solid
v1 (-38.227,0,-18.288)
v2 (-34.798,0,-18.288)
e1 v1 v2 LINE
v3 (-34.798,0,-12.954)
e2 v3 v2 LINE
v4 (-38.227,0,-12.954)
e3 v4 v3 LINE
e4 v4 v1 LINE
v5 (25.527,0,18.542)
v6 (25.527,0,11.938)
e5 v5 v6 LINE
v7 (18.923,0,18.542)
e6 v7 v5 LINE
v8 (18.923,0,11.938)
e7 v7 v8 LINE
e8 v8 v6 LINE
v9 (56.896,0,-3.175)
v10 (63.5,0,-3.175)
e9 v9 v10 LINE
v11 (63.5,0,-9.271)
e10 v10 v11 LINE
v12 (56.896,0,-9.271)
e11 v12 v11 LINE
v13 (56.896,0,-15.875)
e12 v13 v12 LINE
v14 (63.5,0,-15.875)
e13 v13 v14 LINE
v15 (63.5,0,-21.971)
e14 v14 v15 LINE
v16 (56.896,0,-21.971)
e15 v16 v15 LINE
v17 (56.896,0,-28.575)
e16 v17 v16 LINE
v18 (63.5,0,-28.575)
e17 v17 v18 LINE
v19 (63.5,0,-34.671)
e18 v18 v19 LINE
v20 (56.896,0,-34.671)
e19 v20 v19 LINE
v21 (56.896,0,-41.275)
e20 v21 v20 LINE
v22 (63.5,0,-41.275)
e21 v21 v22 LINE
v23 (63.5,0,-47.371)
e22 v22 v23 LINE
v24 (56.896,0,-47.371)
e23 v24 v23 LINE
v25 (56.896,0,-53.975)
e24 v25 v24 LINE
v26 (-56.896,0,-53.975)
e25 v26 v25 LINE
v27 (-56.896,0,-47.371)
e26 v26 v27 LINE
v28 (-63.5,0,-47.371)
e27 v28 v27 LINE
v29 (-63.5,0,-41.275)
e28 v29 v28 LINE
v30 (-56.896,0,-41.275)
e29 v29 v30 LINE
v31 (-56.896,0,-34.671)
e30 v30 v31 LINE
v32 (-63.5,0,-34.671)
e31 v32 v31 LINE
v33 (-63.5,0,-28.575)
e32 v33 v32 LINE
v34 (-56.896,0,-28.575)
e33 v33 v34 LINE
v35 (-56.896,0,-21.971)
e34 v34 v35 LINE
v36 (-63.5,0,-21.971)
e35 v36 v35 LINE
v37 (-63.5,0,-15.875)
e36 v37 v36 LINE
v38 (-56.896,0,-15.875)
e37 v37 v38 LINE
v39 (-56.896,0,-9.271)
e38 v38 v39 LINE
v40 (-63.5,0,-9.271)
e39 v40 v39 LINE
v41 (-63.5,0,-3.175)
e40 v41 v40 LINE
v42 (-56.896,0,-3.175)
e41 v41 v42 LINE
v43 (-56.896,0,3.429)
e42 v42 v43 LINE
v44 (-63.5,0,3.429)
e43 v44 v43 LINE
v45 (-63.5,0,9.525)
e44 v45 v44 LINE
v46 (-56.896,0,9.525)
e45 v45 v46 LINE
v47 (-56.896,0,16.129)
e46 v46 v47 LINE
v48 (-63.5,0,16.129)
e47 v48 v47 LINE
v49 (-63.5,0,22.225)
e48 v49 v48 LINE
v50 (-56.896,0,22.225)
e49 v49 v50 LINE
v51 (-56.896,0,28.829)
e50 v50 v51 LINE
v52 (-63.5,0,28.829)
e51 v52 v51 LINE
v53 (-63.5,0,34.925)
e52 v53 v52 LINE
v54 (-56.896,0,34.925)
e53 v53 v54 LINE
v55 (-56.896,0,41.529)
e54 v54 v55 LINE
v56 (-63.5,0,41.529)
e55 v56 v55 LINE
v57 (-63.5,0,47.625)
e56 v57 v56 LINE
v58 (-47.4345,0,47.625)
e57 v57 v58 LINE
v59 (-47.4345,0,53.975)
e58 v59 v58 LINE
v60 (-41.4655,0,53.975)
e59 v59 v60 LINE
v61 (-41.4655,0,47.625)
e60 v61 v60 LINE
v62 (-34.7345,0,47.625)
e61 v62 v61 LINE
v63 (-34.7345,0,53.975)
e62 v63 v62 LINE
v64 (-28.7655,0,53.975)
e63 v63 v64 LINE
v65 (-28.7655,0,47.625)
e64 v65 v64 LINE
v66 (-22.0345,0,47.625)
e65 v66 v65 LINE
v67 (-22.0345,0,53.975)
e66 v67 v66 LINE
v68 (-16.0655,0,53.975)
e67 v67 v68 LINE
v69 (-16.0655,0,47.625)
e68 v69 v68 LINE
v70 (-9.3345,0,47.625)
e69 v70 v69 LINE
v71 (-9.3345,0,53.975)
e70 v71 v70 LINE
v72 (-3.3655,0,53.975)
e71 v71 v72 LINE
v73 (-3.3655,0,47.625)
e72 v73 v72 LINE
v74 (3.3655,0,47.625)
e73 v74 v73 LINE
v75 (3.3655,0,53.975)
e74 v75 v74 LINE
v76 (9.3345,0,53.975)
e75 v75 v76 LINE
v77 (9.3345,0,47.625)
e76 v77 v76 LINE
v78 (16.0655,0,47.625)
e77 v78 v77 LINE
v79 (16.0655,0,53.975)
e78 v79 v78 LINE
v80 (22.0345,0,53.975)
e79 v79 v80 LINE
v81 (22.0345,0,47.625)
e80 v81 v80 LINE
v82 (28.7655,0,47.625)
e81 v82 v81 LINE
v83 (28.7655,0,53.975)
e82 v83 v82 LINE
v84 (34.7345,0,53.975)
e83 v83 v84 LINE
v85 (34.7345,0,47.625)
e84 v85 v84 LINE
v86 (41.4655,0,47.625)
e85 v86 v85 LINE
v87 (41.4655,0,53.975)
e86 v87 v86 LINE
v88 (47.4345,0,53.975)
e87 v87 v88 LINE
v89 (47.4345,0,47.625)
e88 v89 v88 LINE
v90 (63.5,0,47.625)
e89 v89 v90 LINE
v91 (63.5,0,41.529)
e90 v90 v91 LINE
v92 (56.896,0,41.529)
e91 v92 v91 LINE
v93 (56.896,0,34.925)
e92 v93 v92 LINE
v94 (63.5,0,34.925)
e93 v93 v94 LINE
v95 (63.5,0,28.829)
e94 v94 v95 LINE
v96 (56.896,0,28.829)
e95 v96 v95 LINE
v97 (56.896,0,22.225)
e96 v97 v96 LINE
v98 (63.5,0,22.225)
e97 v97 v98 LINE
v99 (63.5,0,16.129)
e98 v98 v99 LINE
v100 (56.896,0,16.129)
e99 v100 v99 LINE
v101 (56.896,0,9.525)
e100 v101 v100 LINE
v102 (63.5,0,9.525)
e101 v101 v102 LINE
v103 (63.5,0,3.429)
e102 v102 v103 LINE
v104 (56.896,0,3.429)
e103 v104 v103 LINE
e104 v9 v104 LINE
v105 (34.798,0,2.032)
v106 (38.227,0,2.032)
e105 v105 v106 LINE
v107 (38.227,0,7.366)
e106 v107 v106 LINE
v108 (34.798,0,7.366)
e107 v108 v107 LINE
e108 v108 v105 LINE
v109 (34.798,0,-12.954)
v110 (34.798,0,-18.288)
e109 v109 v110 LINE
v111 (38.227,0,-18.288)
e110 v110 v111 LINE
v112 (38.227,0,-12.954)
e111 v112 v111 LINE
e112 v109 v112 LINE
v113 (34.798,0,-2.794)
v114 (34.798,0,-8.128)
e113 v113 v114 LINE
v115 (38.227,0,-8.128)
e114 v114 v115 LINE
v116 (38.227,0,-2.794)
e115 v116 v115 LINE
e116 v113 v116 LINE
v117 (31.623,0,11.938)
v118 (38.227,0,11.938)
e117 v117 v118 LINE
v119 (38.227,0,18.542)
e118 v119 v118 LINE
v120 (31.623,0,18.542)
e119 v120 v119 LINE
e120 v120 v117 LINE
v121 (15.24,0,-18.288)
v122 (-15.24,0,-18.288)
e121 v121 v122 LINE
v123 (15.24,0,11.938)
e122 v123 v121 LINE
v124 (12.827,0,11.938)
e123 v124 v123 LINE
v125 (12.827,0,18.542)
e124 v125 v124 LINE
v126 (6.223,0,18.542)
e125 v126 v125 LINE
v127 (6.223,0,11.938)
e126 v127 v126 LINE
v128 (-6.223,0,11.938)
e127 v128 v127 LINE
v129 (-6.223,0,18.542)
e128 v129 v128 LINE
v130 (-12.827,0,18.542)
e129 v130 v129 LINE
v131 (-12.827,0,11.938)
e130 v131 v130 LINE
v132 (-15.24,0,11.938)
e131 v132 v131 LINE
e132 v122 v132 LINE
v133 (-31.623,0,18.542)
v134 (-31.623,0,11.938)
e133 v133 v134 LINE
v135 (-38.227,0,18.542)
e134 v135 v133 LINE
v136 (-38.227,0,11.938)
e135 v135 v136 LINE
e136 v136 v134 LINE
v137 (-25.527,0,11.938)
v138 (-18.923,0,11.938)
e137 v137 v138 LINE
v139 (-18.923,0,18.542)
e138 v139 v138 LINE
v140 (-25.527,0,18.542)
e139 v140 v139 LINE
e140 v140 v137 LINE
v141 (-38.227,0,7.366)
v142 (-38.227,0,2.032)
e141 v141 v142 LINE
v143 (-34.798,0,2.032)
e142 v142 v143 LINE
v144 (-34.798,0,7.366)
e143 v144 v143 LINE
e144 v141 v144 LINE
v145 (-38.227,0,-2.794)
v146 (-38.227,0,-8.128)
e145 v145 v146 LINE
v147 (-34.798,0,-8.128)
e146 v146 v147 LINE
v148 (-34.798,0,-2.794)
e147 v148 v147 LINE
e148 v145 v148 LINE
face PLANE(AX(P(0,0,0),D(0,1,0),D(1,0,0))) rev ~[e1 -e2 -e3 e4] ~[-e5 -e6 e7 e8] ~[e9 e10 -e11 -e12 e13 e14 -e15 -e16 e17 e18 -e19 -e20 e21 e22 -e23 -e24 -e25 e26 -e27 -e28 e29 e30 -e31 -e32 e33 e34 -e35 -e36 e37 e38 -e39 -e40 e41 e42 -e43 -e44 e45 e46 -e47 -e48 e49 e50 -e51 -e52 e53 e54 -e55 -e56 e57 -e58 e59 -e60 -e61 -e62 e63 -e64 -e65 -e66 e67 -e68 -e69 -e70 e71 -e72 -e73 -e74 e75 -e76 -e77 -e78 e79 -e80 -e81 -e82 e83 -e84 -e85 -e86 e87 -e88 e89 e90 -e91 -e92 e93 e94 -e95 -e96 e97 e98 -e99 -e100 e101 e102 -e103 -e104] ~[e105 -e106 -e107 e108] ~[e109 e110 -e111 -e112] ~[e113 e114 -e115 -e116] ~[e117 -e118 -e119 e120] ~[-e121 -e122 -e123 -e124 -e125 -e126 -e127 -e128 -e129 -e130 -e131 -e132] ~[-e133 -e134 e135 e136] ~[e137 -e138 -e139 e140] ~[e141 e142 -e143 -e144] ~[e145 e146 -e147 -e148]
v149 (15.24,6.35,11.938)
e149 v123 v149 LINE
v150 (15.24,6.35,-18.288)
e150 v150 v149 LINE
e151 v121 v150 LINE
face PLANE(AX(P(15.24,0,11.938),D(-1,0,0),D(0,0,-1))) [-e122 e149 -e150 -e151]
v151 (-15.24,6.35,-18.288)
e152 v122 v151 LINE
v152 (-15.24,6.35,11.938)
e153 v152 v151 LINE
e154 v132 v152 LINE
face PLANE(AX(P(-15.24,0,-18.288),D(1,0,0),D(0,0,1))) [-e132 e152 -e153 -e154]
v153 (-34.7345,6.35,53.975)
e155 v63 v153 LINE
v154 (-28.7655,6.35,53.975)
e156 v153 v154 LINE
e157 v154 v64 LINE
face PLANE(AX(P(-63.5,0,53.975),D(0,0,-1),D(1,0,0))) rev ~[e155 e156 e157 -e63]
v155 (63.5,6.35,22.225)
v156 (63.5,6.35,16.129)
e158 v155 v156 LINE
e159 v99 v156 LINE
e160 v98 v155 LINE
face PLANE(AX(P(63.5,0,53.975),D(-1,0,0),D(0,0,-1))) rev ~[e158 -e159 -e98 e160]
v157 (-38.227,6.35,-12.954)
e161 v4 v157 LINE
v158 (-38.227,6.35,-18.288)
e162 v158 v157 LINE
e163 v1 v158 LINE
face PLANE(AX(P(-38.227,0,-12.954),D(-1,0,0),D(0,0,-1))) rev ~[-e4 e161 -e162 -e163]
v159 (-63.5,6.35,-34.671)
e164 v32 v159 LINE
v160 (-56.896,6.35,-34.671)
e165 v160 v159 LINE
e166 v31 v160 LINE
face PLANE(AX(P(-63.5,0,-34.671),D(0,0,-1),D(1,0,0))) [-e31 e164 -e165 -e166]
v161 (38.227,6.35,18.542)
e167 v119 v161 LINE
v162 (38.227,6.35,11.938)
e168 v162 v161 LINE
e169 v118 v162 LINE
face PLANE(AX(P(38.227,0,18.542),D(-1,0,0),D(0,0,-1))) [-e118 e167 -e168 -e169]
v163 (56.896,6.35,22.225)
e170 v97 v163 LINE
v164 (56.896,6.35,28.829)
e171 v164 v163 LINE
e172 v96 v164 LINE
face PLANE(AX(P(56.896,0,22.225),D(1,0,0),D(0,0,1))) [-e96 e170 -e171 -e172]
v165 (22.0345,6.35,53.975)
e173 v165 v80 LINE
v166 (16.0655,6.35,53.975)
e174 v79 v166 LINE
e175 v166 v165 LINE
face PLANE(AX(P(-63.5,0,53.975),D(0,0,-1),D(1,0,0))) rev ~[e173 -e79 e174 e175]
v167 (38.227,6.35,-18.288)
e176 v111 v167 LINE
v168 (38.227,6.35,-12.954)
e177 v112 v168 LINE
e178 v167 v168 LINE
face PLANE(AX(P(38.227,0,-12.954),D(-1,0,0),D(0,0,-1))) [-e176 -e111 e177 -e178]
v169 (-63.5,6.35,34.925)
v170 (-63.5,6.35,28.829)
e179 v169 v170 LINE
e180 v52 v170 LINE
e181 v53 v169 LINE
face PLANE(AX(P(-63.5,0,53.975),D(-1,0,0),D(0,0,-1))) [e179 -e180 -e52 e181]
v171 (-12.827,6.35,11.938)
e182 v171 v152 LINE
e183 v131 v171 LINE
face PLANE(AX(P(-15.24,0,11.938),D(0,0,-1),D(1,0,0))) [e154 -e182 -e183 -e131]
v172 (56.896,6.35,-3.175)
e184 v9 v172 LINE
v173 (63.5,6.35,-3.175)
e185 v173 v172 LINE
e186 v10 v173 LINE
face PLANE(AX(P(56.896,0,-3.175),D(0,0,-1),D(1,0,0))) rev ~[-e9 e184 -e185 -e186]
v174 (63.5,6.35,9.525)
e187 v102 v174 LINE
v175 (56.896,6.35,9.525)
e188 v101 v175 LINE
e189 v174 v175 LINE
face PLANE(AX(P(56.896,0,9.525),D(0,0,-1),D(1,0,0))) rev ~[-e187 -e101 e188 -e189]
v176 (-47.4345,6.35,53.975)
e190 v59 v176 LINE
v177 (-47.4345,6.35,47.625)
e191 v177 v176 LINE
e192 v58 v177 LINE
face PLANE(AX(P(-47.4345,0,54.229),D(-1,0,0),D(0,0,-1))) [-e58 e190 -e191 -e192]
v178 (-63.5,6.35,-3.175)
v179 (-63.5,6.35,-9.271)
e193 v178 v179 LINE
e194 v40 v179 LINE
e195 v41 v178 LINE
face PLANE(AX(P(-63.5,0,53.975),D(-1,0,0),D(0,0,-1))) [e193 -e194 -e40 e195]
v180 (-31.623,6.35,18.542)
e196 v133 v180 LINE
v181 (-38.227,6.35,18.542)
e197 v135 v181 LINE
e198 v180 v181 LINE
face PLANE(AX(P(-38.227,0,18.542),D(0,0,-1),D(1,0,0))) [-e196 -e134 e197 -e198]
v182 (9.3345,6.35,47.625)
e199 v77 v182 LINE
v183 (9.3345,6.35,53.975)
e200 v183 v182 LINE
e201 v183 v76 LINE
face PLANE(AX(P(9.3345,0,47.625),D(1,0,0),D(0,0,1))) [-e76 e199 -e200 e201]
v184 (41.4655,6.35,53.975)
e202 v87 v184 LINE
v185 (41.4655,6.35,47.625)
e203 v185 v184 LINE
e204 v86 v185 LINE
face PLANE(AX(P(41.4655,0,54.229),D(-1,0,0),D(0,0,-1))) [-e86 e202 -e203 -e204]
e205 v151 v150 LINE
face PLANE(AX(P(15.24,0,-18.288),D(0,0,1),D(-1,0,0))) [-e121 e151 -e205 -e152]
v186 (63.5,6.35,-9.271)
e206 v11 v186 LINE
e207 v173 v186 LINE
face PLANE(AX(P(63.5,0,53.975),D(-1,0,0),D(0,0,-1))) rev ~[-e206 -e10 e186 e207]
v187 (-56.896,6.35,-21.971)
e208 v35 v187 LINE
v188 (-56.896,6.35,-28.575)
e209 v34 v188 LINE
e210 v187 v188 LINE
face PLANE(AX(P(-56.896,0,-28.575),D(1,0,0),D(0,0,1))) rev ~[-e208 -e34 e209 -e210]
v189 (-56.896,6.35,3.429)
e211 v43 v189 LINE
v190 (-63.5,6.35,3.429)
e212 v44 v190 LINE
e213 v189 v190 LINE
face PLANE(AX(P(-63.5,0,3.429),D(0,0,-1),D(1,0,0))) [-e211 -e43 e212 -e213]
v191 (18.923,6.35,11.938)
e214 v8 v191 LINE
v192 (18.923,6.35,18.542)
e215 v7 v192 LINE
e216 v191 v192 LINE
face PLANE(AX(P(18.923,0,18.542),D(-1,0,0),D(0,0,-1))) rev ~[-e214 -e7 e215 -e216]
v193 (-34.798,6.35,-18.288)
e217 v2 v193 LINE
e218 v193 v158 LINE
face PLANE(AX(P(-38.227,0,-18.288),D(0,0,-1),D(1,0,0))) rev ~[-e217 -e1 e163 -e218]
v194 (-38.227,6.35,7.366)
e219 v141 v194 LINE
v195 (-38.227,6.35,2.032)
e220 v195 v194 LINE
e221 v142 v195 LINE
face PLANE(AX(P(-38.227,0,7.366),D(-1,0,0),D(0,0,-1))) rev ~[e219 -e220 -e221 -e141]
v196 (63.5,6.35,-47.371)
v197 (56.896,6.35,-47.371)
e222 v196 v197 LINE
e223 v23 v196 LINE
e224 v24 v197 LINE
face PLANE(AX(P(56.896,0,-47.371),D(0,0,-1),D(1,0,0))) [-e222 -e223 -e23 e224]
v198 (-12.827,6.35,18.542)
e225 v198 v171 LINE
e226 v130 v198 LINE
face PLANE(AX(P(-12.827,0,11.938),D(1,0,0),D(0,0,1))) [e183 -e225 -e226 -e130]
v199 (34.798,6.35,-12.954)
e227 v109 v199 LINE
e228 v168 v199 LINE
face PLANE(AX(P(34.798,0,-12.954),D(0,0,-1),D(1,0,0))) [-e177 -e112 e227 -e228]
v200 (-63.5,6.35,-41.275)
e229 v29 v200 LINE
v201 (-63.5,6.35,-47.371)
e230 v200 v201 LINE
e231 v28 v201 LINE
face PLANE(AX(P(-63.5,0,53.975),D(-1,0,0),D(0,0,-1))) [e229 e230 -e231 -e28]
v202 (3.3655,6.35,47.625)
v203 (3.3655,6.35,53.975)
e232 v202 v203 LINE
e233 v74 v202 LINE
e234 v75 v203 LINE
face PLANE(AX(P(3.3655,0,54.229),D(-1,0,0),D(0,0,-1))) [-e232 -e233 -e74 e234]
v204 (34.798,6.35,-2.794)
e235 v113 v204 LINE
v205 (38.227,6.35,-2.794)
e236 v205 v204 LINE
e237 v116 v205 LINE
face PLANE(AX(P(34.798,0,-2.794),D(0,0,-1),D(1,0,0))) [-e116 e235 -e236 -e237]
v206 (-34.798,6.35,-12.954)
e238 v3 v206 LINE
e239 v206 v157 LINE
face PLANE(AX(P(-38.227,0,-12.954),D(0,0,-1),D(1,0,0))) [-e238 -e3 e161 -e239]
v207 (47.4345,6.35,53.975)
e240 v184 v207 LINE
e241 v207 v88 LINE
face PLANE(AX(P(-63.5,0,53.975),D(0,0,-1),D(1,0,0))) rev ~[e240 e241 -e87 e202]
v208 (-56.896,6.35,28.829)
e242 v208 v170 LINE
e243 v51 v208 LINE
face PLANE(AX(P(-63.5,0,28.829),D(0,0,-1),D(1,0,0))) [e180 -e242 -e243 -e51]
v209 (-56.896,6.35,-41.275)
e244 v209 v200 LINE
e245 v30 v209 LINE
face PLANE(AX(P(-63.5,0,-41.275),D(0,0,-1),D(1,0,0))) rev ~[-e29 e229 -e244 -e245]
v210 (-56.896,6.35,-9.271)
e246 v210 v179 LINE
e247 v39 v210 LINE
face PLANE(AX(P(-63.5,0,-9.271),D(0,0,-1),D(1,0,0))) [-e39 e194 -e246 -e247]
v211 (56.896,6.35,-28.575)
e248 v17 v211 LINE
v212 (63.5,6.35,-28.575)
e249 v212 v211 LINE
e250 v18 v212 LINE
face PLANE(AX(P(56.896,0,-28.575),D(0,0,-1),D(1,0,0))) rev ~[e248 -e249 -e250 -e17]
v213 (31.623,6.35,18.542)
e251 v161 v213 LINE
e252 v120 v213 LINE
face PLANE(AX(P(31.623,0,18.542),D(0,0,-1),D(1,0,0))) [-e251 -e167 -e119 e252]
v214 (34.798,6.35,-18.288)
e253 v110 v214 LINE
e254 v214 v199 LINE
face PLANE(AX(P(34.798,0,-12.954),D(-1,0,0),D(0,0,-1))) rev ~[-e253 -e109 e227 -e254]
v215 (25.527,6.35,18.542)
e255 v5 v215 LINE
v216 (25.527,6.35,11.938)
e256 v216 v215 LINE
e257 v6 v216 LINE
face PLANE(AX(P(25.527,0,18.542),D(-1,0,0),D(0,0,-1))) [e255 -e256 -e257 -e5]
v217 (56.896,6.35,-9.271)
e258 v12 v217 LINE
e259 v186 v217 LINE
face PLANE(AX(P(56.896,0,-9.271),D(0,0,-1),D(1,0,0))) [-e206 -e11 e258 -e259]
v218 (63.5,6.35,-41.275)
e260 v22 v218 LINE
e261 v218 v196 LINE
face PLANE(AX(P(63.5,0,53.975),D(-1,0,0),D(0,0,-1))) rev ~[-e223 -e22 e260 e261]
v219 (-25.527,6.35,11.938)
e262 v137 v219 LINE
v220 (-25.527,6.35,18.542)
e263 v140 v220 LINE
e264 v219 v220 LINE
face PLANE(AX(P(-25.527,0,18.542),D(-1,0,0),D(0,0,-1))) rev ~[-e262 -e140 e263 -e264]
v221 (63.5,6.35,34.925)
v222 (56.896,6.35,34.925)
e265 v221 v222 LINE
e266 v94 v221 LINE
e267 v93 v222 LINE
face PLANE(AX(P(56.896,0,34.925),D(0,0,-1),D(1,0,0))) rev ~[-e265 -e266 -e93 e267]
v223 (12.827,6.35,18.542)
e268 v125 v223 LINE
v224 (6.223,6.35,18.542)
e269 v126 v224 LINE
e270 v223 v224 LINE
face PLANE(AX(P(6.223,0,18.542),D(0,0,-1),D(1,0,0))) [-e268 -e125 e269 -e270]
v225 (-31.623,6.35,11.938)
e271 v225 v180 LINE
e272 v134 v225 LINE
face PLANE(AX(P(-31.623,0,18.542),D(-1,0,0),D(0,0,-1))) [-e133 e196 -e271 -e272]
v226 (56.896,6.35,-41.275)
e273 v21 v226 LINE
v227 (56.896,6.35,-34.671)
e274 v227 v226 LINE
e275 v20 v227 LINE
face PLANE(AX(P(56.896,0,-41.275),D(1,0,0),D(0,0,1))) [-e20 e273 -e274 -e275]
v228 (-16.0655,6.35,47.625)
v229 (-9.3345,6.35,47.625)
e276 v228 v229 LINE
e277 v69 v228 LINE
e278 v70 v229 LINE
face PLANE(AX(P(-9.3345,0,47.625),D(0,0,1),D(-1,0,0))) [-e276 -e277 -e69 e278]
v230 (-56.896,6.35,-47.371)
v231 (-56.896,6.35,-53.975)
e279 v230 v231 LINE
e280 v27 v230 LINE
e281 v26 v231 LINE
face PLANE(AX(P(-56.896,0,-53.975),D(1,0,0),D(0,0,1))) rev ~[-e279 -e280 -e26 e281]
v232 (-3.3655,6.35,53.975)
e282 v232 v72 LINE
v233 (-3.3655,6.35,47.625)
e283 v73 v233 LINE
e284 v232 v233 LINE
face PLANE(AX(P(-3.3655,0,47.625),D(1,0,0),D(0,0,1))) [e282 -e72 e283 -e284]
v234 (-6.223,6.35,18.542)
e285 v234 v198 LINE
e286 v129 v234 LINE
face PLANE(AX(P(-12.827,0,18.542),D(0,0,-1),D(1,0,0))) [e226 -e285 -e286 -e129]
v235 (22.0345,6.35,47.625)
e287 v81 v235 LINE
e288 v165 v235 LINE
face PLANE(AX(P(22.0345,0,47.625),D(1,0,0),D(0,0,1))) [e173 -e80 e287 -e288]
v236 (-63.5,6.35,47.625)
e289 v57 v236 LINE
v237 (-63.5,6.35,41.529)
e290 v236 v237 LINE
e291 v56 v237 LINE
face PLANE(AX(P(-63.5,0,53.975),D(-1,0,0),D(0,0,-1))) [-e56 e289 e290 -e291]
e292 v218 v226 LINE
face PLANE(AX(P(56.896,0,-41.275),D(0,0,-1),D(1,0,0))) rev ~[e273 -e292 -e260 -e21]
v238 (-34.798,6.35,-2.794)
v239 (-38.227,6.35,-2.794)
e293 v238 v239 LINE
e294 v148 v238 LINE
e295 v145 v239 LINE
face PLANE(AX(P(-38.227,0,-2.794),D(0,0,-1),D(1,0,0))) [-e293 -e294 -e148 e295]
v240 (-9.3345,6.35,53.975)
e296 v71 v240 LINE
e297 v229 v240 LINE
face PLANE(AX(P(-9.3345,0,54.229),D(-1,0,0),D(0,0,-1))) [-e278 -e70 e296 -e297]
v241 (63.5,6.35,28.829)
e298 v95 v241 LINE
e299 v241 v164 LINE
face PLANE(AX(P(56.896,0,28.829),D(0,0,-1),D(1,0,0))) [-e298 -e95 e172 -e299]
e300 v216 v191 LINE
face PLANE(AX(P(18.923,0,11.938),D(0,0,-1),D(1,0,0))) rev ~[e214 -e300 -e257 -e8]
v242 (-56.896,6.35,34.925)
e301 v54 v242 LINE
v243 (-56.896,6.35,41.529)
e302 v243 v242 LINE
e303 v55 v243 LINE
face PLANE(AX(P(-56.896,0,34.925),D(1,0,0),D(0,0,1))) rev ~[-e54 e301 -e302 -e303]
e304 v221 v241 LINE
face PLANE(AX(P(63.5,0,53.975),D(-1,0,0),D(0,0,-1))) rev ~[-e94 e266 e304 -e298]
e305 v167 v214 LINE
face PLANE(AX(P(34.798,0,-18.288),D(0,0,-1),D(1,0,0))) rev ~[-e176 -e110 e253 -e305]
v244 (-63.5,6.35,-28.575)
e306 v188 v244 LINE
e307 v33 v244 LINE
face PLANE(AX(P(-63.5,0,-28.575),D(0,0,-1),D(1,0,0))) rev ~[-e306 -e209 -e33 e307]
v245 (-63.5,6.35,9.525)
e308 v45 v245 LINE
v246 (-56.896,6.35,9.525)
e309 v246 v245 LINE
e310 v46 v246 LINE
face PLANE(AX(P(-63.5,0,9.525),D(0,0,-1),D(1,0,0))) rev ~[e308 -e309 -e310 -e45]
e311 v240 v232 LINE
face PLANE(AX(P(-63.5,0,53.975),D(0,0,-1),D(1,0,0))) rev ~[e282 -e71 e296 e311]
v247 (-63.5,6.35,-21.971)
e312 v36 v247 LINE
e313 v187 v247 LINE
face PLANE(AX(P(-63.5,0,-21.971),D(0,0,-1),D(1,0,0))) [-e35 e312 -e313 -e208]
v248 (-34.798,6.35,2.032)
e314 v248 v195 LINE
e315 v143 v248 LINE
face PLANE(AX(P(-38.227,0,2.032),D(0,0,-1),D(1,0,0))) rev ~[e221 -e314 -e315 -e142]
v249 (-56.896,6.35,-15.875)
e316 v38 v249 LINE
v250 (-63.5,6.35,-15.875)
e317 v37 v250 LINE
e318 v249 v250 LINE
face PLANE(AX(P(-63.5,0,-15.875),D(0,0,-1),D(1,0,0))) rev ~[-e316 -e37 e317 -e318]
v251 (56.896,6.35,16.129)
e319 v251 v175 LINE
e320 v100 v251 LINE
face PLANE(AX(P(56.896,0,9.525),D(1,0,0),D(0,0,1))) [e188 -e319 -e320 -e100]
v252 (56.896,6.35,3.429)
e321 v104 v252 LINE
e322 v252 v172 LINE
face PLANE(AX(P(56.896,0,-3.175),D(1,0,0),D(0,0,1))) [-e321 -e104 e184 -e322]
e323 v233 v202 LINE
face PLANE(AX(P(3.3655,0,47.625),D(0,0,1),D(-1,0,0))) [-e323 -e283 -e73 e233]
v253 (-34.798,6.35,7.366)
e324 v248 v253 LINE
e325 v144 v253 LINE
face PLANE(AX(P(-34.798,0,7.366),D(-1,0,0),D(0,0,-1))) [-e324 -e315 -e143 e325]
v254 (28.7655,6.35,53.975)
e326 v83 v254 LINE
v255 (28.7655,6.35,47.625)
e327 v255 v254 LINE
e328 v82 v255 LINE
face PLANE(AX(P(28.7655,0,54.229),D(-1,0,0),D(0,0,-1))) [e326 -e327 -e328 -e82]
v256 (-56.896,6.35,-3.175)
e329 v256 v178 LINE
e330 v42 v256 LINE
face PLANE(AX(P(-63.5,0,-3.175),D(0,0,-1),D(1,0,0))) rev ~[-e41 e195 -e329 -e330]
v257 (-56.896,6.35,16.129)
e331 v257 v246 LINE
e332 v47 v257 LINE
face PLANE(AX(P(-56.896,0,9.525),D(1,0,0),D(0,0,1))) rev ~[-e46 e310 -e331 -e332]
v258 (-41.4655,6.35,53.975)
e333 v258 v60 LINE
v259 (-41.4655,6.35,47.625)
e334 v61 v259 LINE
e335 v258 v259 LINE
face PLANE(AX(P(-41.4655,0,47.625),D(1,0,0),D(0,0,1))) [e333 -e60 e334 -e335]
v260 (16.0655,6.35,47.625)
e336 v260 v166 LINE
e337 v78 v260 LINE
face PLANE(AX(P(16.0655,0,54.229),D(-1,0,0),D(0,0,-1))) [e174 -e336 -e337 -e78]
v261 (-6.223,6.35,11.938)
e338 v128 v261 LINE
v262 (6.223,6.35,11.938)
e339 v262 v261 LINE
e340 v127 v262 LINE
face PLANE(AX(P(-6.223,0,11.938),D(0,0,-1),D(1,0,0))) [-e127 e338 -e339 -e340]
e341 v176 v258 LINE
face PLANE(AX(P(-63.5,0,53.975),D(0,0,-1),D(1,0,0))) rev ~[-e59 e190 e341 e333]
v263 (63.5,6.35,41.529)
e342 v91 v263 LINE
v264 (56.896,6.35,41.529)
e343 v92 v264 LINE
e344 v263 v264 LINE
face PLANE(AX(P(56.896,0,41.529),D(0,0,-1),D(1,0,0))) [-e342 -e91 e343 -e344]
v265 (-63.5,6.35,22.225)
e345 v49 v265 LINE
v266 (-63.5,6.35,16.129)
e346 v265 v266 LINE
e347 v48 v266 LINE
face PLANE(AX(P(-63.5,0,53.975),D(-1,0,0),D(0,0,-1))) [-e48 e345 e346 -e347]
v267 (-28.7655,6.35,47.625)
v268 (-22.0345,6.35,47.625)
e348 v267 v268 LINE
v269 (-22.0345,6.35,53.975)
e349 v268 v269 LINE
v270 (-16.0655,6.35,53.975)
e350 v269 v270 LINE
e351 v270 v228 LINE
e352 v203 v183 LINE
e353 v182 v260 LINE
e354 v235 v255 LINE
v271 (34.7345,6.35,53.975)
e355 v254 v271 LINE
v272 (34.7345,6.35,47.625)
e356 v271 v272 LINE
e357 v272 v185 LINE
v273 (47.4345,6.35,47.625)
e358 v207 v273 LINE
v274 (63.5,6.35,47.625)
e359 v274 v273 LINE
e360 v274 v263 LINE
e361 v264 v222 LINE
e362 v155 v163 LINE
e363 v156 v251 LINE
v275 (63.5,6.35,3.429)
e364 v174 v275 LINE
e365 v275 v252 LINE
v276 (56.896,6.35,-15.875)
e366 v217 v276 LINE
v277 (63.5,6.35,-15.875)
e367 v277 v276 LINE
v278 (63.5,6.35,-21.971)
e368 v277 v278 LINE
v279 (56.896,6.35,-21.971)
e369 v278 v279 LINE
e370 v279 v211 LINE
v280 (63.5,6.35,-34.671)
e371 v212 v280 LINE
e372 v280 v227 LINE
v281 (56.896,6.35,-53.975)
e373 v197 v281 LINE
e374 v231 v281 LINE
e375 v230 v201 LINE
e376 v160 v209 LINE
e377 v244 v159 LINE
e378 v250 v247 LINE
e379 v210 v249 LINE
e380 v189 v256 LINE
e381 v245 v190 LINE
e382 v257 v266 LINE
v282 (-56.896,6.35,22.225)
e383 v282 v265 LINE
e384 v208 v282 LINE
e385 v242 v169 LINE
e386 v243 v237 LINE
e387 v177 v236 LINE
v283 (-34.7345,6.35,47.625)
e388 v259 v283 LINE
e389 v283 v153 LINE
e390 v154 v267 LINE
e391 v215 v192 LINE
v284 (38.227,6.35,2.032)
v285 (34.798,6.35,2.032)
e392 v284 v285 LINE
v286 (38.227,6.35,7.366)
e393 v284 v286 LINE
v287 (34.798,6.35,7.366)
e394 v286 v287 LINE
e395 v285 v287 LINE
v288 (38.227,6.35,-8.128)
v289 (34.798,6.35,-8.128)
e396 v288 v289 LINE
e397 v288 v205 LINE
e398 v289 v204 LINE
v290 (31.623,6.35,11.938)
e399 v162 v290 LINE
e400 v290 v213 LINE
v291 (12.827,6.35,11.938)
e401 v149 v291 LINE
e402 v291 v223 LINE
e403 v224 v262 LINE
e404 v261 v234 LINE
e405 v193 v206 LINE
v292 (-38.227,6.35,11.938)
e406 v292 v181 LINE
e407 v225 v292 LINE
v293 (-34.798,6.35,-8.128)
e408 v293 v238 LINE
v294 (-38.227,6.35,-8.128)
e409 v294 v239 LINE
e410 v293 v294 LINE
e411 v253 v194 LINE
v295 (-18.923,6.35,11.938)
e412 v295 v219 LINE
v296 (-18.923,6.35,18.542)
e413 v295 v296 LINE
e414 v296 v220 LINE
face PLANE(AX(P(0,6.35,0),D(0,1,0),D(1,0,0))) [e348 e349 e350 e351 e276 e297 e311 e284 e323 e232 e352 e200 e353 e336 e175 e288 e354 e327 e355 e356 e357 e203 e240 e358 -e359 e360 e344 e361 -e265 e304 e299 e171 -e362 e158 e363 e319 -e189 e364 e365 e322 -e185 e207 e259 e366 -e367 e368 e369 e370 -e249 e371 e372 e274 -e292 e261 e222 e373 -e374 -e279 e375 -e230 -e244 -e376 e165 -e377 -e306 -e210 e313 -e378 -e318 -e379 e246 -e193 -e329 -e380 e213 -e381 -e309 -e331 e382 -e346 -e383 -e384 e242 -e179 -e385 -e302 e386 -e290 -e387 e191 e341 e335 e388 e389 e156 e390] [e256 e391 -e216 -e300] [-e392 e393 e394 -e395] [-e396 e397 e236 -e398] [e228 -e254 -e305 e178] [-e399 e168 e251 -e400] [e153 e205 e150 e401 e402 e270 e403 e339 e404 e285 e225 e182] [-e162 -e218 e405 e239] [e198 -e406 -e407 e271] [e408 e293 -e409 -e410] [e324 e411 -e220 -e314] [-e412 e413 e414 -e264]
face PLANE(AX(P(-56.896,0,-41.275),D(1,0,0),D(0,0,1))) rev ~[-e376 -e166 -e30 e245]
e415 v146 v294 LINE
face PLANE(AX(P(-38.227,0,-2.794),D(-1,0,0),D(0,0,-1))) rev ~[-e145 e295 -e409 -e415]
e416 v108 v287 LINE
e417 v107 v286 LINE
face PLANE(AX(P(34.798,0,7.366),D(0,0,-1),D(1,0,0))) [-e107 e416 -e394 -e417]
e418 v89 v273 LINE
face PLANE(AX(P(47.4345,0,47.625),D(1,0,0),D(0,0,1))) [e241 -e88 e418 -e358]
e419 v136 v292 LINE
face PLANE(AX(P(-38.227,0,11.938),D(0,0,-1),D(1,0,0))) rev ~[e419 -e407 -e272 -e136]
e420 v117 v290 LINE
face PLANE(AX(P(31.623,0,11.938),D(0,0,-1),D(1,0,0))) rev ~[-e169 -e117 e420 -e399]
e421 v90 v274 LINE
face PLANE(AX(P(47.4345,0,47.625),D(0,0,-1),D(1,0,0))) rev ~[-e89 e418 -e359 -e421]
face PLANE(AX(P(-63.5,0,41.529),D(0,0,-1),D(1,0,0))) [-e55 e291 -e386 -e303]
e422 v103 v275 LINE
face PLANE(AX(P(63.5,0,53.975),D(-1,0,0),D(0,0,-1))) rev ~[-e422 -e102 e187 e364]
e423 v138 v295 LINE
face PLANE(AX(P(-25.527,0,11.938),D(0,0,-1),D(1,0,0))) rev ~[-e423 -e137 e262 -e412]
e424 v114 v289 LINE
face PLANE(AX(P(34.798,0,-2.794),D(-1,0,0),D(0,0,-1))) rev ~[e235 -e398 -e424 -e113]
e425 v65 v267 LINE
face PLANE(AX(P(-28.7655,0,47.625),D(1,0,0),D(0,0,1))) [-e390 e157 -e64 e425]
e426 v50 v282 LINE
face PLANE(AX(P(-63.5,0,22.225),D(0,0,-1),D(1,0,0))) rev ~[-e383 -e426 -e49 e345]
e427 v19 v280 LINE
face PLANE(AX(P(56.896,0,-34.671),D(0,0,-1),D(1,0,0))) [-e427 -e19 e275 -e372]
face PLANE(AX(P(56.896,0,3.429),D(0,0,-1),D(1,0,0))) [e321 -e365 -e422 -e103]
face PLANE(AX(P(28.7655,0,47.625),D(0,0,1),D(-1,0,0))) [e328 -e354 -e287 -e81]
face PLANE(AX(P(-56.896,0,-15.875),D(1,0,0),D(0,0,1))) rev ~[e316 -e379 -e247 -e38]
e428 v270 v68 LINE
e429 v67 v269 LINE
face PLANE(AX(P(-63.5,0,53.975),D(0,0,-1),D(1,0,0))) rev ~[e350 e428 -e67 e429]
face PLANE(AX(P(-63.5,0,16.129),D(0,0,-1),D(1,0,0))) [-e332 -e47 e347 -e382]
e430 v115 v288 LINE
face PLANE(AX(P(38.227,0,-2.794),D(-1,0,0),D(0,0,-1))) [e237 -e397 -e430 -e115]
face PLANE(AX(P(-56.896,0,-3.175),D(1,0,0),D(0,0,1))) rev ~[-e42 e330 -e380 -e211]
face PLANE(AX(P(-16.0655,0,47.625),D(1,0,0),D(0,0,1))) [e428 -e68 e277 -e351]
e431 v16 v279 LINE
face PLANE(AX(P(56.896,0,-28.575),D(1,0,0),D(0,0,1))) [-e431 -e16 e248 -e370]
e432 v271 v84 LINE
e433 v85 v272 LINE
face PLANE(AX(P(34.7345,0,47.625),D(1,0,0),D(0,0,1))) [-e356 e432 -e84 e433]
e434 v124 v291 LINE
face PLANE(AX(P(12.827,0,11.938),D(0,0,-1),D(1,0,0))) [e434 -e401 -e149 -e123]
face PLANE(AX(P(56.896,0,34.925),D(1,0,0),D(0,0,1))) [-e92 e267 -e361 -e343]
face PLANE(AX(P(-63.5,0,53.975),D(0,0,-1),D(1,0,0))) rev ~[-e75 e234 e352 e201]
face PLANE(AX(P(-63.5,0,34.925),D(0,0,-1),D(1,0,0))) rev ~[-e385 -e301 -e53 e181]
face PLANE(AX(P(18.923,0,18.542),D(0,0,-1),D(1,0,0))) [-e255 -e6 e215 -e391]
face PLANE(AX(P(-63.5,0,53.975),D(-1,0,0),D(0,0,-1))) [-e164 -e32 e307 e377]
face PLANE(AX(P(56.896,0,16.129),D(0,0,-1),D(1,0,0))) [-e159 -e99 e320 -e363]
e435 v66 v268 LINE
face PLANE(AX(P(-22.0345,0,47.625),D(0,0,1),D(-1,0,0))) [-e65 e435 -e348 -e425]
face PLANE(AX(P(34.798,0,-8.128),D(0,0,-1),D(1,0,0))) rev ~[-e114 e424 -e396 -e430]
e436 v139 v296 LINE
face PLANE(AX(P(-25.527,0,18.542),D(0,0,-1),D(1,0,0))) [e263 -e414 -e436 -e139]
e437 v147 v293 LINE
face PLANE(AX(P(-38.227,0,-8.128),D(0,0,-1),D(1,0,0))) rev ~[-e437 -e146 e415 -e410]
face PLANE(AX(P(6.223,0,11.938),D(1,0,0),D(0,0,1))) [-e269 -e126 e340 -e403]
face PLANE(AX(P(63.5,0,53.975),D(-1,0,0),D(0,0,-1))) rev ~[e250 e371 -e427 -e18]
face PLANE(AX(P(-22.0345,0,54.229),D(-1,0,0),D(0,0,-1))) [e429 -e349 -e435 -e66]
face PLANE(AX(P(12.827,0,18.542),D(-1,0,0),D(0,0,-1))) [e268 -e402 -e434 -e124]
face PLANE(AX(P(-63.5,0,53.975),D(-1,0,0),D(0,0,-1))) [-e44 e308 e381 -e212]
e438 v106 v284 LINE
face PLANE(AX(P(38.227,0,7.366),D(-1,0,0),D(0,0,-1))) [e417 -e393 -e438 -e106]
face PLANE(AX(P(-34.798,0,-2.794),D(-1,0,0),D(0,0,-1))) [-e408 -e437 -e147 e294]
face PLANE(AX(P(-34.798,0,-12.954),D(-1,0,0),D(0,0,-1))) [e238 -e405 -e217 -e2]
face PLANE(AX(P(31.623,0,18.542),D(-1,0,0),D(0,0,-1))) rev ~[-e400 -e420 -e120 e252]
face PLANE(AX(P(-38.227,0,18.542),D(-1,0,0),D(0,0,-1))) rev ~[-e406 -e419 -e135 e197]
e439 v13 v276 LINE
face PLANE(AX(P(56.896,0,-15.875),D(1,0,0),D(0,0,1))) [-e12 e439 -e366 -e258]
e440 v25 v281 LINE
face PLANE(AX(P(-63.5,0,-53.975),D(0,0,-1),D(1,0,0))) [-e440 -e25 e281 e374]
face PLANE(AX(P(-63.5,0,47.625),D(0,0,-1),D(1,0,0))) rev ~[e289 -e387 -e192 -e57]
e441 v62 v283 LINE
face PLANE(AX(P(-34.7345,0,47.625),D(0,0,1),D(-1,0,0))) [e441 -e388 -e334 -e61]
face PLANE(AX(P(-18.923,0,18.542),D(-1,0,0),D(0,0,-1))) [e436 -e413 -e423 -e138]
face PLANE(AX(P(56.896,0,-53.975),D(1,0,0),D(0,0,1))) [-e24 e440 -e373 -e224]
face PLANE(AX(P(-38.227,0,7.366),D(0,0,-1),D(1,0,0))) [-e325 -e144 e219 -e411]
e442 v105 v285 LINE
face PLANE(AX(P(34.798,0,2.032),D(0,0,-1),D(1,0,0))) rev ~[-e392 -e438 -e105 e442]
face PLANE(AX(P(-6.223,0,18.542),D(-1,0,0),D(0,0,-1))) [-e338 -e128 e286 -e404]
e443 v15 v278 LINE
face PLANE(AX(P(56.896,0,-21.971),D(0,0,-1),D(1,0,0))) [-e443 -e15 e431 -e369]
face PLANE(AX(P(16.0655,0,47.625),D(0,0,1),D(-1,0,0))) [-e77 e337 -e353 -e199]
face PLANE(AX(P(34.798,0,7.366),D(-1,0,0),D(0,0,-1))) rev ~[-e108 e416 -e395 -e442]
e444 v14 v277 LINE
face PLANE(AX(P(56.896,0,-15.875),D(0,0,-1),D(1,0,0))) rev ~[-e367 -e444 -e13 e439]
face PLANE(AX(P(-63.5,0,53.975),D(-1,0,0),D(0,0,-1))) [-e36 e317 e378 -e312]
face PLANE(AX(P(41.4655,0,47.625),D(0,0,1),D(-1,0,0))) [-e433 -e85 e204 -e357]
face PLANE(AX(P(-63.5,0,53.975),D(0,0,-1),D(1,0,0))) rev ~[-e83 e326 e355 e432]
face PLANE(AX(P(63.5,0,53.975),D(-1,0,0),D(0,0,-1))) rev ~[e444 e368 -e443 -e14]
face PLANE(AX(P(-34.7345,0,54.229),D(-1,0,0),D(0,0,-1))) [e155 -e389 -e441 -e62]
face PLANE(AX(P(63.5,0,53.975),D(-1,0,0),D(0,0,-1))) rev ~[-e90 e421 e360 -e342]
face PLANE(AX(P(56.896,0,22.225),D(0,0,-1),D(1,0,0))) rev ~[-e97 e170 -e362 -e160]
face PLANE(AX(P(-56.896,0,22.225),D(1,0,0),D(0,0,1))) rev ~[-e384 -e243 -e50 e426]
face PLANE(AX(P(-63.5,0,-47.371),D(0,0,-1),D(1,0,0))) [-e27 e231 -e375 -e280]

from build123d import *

# Parameters (mm, degrees)
SKETCH1_W           = 127
SKETCH1_H           = 107.95
BOSS_EXTRUDE1_DEPTH = 6.35
SKETCH2_W           = 6.604
SKETCH2_H           = 6.604
CUT_EXTRUDE1_DEPTH  = 84.58153579
SKETCH3_W           = 3.429
SKETCH3_H           = 5.334
SKETCH3_W_2         = 6.604
SKETCH3_H_2         = 6.604
CUT_EXTRUDE4_DEPTH  = 84.58153579


with BuildPart() as part:
    # Sketch1 → Boss-Extrude1 (new body)
    with BuildSketch(Plane(origin=(0, 0, 0), x_dir=(1, 0, 0), z_dir=(0, 1, 0))):
        Rectangle(SKETCH1_W, SKETCH1_H)
    extrude(amount=BOSS_EXTRUDE1_DEPTH)

    # Sketch2 → Cut-Extrude1 (cut, through all)
    with BuildSketch(Plane.XZ):
        Polygon((-34.7345, 47.625), (-41.4655, 47.625), (-41.4655, 54.229), (-47.4345, 54.229), (-47.4345, 47.625), (-56.896, 47.625), (-63.5, 47.625), (-63.5, 54.229), (-63.5, 63.03162391), (63.5, 63.03162391), (63.5, 54.229), (63.5, 47.625), (56.896, 47.625), (47.4345, 47.625), (47.4345, 54.229), (41.4655, 54.229), (41.4655, 47.625), (34.7345, 47.625), (34.7345, 54.229), (28.7655, 54.229), (28.7655, 47.625), (22.0345, 47.625), (22.0345, 54.229), (16.0655, 54.229), (16.0655, 47.625), (9.3345, 47.625), (9.3345, 54.229), (3.3655, 54.229), (3.3655, 47.625), (-3.3655, 47.625), (-3.3655, 54.229), (-9.3345, 54.229), (-9.3345, 47.625), (-16.0655, 47.625), (-16.0655, 54.229), (-22.0345, 54.229), (-22.0345, 47.625), (-28.7655, 47.625), (-28.7655, 54.229), (-34.7345, 54.229), align=None)
        with Locations((60.198, 38.227)):
            Rectangle(SKETCH2_W, SKETCH2_H)
        with Locations((60.198, 25.527)):
            Rectangle(SKETCH2_W, SKETCH2_H)
        with Locations((60.198, 12.827)):
            Rectangle(SKETCH2_W, SKETCH2_H)
        with Locations((60.198, 0.127)):
            Rectangle(SKETCH2_W, SKETCH2_H)
        with Locations((60.198, -12.573)):
            Rectangle(SKETCH2_W, SKETCH2_H)
        with Locations((60.198, -25.273)):
            Rectangle(SKETCH2_W, SKETCH2_H)
        with Locations((60.198, -37.973)):
            Rectangle(SKETCH2_W, SKETCH2_H)
        with Locations((-60.198, -37.973)):
            Rectangle(SKETCH2_W, SKETCH2_H)
        with Locations((-60.198, -25.273)):
            Rectangle(SKETCH2_W, SKETCH2_H)
        with Locations((-60.198, -12.573)):
            Rectangle(SKETCH2_W, SKETCH2_H)
        with Locations((-60.198, 0.127)):
            Rectangle(SKETCH2_W, SKETCH2_H)
        with Locations((-60.198, 12.827)):
            Rectangle(SKETCH2_W, SKETCH2_H)
        with Locations((-60.198, 25.527)):
            Rectangle(SKETCH2_W, SKETCH2_H)
        with Locations((-60.198, 38.227)):
            Rectangle(SKETCH2_W, SKETCH2_H)
        with Locations((60.198, -50.673)):
            Rectangle(SKETCH2_W, SKETCH2_H)
        with Locations((-60.198, -50.673)):
            Rectangle(SKETCH2_W, SKETCH2_H)
    extrude(amount=-CUT_EXTRUDE1_DEPTH, mode=Mode.SUBTRACT)

    # Sketch3 → Cut-Extrude4 (cut, through all)
    with BuildSketch(Plane(origin=(0, 0, 0), x_dir=(1, 0, 0), z_dir=(0, 1, 0))):
        with Locations((-36.5125, 5.461)):
            Rectangle(SKETCH3_W, SKETCH3_H)
        Polygon((15.24, 18.288), (-15.24, 18.288), (-15.24, -11.938), (-12.827, -11.938), (-12.827, -18.542), (-6.223, -18.542), (-6.223, -11.938), (6.223, -11.938), (6.223, -18.542), (12.827, -18.542), (12.827, -11.938), (15.24, -11.938), align=None)
        with Locations((-36.5125, 15.621)):
            Rectangle(SKETCH3_W, SKETCH3_H)
        with Locations((-36.5125, -4.699)):
            Rectangle(SKETCH3_W, SKETCH3_H)
        with Locations((-22.225, -15.24)):
            Rectangle(SKETCH3_W_2, SKETCH3_H_2)
        with Locations((-34.925, -15.24)):
            Rectangle(SKETCH3_W_2, SKETCH3_H_2)
        with Locations((22.225, -15.24)):
            Rectangle(SKETCH3_W_2, SKETCH3_H_2)
        with Locations((34.925, -15.24)):
            Rectangle(SKETCH3_W_2, SKETCH3_H_2)
        with Locations((36.5125, -4.699)):
            Rectangle(SKETCH3_W, SKETCH3_H)
        with Locations((36.5125, 5.461)):
            Rectangle(SKETCH3_W, SKETCH3_H)
        with Locations((36.5125, 15.621)):
            Rectangle(SKETCH3_W, SKETCH3_H)
    extrude(amount=CUT_EXTRUDE4_DEPTH, mode=Mode.SUBTRACT)


solid = part.part
